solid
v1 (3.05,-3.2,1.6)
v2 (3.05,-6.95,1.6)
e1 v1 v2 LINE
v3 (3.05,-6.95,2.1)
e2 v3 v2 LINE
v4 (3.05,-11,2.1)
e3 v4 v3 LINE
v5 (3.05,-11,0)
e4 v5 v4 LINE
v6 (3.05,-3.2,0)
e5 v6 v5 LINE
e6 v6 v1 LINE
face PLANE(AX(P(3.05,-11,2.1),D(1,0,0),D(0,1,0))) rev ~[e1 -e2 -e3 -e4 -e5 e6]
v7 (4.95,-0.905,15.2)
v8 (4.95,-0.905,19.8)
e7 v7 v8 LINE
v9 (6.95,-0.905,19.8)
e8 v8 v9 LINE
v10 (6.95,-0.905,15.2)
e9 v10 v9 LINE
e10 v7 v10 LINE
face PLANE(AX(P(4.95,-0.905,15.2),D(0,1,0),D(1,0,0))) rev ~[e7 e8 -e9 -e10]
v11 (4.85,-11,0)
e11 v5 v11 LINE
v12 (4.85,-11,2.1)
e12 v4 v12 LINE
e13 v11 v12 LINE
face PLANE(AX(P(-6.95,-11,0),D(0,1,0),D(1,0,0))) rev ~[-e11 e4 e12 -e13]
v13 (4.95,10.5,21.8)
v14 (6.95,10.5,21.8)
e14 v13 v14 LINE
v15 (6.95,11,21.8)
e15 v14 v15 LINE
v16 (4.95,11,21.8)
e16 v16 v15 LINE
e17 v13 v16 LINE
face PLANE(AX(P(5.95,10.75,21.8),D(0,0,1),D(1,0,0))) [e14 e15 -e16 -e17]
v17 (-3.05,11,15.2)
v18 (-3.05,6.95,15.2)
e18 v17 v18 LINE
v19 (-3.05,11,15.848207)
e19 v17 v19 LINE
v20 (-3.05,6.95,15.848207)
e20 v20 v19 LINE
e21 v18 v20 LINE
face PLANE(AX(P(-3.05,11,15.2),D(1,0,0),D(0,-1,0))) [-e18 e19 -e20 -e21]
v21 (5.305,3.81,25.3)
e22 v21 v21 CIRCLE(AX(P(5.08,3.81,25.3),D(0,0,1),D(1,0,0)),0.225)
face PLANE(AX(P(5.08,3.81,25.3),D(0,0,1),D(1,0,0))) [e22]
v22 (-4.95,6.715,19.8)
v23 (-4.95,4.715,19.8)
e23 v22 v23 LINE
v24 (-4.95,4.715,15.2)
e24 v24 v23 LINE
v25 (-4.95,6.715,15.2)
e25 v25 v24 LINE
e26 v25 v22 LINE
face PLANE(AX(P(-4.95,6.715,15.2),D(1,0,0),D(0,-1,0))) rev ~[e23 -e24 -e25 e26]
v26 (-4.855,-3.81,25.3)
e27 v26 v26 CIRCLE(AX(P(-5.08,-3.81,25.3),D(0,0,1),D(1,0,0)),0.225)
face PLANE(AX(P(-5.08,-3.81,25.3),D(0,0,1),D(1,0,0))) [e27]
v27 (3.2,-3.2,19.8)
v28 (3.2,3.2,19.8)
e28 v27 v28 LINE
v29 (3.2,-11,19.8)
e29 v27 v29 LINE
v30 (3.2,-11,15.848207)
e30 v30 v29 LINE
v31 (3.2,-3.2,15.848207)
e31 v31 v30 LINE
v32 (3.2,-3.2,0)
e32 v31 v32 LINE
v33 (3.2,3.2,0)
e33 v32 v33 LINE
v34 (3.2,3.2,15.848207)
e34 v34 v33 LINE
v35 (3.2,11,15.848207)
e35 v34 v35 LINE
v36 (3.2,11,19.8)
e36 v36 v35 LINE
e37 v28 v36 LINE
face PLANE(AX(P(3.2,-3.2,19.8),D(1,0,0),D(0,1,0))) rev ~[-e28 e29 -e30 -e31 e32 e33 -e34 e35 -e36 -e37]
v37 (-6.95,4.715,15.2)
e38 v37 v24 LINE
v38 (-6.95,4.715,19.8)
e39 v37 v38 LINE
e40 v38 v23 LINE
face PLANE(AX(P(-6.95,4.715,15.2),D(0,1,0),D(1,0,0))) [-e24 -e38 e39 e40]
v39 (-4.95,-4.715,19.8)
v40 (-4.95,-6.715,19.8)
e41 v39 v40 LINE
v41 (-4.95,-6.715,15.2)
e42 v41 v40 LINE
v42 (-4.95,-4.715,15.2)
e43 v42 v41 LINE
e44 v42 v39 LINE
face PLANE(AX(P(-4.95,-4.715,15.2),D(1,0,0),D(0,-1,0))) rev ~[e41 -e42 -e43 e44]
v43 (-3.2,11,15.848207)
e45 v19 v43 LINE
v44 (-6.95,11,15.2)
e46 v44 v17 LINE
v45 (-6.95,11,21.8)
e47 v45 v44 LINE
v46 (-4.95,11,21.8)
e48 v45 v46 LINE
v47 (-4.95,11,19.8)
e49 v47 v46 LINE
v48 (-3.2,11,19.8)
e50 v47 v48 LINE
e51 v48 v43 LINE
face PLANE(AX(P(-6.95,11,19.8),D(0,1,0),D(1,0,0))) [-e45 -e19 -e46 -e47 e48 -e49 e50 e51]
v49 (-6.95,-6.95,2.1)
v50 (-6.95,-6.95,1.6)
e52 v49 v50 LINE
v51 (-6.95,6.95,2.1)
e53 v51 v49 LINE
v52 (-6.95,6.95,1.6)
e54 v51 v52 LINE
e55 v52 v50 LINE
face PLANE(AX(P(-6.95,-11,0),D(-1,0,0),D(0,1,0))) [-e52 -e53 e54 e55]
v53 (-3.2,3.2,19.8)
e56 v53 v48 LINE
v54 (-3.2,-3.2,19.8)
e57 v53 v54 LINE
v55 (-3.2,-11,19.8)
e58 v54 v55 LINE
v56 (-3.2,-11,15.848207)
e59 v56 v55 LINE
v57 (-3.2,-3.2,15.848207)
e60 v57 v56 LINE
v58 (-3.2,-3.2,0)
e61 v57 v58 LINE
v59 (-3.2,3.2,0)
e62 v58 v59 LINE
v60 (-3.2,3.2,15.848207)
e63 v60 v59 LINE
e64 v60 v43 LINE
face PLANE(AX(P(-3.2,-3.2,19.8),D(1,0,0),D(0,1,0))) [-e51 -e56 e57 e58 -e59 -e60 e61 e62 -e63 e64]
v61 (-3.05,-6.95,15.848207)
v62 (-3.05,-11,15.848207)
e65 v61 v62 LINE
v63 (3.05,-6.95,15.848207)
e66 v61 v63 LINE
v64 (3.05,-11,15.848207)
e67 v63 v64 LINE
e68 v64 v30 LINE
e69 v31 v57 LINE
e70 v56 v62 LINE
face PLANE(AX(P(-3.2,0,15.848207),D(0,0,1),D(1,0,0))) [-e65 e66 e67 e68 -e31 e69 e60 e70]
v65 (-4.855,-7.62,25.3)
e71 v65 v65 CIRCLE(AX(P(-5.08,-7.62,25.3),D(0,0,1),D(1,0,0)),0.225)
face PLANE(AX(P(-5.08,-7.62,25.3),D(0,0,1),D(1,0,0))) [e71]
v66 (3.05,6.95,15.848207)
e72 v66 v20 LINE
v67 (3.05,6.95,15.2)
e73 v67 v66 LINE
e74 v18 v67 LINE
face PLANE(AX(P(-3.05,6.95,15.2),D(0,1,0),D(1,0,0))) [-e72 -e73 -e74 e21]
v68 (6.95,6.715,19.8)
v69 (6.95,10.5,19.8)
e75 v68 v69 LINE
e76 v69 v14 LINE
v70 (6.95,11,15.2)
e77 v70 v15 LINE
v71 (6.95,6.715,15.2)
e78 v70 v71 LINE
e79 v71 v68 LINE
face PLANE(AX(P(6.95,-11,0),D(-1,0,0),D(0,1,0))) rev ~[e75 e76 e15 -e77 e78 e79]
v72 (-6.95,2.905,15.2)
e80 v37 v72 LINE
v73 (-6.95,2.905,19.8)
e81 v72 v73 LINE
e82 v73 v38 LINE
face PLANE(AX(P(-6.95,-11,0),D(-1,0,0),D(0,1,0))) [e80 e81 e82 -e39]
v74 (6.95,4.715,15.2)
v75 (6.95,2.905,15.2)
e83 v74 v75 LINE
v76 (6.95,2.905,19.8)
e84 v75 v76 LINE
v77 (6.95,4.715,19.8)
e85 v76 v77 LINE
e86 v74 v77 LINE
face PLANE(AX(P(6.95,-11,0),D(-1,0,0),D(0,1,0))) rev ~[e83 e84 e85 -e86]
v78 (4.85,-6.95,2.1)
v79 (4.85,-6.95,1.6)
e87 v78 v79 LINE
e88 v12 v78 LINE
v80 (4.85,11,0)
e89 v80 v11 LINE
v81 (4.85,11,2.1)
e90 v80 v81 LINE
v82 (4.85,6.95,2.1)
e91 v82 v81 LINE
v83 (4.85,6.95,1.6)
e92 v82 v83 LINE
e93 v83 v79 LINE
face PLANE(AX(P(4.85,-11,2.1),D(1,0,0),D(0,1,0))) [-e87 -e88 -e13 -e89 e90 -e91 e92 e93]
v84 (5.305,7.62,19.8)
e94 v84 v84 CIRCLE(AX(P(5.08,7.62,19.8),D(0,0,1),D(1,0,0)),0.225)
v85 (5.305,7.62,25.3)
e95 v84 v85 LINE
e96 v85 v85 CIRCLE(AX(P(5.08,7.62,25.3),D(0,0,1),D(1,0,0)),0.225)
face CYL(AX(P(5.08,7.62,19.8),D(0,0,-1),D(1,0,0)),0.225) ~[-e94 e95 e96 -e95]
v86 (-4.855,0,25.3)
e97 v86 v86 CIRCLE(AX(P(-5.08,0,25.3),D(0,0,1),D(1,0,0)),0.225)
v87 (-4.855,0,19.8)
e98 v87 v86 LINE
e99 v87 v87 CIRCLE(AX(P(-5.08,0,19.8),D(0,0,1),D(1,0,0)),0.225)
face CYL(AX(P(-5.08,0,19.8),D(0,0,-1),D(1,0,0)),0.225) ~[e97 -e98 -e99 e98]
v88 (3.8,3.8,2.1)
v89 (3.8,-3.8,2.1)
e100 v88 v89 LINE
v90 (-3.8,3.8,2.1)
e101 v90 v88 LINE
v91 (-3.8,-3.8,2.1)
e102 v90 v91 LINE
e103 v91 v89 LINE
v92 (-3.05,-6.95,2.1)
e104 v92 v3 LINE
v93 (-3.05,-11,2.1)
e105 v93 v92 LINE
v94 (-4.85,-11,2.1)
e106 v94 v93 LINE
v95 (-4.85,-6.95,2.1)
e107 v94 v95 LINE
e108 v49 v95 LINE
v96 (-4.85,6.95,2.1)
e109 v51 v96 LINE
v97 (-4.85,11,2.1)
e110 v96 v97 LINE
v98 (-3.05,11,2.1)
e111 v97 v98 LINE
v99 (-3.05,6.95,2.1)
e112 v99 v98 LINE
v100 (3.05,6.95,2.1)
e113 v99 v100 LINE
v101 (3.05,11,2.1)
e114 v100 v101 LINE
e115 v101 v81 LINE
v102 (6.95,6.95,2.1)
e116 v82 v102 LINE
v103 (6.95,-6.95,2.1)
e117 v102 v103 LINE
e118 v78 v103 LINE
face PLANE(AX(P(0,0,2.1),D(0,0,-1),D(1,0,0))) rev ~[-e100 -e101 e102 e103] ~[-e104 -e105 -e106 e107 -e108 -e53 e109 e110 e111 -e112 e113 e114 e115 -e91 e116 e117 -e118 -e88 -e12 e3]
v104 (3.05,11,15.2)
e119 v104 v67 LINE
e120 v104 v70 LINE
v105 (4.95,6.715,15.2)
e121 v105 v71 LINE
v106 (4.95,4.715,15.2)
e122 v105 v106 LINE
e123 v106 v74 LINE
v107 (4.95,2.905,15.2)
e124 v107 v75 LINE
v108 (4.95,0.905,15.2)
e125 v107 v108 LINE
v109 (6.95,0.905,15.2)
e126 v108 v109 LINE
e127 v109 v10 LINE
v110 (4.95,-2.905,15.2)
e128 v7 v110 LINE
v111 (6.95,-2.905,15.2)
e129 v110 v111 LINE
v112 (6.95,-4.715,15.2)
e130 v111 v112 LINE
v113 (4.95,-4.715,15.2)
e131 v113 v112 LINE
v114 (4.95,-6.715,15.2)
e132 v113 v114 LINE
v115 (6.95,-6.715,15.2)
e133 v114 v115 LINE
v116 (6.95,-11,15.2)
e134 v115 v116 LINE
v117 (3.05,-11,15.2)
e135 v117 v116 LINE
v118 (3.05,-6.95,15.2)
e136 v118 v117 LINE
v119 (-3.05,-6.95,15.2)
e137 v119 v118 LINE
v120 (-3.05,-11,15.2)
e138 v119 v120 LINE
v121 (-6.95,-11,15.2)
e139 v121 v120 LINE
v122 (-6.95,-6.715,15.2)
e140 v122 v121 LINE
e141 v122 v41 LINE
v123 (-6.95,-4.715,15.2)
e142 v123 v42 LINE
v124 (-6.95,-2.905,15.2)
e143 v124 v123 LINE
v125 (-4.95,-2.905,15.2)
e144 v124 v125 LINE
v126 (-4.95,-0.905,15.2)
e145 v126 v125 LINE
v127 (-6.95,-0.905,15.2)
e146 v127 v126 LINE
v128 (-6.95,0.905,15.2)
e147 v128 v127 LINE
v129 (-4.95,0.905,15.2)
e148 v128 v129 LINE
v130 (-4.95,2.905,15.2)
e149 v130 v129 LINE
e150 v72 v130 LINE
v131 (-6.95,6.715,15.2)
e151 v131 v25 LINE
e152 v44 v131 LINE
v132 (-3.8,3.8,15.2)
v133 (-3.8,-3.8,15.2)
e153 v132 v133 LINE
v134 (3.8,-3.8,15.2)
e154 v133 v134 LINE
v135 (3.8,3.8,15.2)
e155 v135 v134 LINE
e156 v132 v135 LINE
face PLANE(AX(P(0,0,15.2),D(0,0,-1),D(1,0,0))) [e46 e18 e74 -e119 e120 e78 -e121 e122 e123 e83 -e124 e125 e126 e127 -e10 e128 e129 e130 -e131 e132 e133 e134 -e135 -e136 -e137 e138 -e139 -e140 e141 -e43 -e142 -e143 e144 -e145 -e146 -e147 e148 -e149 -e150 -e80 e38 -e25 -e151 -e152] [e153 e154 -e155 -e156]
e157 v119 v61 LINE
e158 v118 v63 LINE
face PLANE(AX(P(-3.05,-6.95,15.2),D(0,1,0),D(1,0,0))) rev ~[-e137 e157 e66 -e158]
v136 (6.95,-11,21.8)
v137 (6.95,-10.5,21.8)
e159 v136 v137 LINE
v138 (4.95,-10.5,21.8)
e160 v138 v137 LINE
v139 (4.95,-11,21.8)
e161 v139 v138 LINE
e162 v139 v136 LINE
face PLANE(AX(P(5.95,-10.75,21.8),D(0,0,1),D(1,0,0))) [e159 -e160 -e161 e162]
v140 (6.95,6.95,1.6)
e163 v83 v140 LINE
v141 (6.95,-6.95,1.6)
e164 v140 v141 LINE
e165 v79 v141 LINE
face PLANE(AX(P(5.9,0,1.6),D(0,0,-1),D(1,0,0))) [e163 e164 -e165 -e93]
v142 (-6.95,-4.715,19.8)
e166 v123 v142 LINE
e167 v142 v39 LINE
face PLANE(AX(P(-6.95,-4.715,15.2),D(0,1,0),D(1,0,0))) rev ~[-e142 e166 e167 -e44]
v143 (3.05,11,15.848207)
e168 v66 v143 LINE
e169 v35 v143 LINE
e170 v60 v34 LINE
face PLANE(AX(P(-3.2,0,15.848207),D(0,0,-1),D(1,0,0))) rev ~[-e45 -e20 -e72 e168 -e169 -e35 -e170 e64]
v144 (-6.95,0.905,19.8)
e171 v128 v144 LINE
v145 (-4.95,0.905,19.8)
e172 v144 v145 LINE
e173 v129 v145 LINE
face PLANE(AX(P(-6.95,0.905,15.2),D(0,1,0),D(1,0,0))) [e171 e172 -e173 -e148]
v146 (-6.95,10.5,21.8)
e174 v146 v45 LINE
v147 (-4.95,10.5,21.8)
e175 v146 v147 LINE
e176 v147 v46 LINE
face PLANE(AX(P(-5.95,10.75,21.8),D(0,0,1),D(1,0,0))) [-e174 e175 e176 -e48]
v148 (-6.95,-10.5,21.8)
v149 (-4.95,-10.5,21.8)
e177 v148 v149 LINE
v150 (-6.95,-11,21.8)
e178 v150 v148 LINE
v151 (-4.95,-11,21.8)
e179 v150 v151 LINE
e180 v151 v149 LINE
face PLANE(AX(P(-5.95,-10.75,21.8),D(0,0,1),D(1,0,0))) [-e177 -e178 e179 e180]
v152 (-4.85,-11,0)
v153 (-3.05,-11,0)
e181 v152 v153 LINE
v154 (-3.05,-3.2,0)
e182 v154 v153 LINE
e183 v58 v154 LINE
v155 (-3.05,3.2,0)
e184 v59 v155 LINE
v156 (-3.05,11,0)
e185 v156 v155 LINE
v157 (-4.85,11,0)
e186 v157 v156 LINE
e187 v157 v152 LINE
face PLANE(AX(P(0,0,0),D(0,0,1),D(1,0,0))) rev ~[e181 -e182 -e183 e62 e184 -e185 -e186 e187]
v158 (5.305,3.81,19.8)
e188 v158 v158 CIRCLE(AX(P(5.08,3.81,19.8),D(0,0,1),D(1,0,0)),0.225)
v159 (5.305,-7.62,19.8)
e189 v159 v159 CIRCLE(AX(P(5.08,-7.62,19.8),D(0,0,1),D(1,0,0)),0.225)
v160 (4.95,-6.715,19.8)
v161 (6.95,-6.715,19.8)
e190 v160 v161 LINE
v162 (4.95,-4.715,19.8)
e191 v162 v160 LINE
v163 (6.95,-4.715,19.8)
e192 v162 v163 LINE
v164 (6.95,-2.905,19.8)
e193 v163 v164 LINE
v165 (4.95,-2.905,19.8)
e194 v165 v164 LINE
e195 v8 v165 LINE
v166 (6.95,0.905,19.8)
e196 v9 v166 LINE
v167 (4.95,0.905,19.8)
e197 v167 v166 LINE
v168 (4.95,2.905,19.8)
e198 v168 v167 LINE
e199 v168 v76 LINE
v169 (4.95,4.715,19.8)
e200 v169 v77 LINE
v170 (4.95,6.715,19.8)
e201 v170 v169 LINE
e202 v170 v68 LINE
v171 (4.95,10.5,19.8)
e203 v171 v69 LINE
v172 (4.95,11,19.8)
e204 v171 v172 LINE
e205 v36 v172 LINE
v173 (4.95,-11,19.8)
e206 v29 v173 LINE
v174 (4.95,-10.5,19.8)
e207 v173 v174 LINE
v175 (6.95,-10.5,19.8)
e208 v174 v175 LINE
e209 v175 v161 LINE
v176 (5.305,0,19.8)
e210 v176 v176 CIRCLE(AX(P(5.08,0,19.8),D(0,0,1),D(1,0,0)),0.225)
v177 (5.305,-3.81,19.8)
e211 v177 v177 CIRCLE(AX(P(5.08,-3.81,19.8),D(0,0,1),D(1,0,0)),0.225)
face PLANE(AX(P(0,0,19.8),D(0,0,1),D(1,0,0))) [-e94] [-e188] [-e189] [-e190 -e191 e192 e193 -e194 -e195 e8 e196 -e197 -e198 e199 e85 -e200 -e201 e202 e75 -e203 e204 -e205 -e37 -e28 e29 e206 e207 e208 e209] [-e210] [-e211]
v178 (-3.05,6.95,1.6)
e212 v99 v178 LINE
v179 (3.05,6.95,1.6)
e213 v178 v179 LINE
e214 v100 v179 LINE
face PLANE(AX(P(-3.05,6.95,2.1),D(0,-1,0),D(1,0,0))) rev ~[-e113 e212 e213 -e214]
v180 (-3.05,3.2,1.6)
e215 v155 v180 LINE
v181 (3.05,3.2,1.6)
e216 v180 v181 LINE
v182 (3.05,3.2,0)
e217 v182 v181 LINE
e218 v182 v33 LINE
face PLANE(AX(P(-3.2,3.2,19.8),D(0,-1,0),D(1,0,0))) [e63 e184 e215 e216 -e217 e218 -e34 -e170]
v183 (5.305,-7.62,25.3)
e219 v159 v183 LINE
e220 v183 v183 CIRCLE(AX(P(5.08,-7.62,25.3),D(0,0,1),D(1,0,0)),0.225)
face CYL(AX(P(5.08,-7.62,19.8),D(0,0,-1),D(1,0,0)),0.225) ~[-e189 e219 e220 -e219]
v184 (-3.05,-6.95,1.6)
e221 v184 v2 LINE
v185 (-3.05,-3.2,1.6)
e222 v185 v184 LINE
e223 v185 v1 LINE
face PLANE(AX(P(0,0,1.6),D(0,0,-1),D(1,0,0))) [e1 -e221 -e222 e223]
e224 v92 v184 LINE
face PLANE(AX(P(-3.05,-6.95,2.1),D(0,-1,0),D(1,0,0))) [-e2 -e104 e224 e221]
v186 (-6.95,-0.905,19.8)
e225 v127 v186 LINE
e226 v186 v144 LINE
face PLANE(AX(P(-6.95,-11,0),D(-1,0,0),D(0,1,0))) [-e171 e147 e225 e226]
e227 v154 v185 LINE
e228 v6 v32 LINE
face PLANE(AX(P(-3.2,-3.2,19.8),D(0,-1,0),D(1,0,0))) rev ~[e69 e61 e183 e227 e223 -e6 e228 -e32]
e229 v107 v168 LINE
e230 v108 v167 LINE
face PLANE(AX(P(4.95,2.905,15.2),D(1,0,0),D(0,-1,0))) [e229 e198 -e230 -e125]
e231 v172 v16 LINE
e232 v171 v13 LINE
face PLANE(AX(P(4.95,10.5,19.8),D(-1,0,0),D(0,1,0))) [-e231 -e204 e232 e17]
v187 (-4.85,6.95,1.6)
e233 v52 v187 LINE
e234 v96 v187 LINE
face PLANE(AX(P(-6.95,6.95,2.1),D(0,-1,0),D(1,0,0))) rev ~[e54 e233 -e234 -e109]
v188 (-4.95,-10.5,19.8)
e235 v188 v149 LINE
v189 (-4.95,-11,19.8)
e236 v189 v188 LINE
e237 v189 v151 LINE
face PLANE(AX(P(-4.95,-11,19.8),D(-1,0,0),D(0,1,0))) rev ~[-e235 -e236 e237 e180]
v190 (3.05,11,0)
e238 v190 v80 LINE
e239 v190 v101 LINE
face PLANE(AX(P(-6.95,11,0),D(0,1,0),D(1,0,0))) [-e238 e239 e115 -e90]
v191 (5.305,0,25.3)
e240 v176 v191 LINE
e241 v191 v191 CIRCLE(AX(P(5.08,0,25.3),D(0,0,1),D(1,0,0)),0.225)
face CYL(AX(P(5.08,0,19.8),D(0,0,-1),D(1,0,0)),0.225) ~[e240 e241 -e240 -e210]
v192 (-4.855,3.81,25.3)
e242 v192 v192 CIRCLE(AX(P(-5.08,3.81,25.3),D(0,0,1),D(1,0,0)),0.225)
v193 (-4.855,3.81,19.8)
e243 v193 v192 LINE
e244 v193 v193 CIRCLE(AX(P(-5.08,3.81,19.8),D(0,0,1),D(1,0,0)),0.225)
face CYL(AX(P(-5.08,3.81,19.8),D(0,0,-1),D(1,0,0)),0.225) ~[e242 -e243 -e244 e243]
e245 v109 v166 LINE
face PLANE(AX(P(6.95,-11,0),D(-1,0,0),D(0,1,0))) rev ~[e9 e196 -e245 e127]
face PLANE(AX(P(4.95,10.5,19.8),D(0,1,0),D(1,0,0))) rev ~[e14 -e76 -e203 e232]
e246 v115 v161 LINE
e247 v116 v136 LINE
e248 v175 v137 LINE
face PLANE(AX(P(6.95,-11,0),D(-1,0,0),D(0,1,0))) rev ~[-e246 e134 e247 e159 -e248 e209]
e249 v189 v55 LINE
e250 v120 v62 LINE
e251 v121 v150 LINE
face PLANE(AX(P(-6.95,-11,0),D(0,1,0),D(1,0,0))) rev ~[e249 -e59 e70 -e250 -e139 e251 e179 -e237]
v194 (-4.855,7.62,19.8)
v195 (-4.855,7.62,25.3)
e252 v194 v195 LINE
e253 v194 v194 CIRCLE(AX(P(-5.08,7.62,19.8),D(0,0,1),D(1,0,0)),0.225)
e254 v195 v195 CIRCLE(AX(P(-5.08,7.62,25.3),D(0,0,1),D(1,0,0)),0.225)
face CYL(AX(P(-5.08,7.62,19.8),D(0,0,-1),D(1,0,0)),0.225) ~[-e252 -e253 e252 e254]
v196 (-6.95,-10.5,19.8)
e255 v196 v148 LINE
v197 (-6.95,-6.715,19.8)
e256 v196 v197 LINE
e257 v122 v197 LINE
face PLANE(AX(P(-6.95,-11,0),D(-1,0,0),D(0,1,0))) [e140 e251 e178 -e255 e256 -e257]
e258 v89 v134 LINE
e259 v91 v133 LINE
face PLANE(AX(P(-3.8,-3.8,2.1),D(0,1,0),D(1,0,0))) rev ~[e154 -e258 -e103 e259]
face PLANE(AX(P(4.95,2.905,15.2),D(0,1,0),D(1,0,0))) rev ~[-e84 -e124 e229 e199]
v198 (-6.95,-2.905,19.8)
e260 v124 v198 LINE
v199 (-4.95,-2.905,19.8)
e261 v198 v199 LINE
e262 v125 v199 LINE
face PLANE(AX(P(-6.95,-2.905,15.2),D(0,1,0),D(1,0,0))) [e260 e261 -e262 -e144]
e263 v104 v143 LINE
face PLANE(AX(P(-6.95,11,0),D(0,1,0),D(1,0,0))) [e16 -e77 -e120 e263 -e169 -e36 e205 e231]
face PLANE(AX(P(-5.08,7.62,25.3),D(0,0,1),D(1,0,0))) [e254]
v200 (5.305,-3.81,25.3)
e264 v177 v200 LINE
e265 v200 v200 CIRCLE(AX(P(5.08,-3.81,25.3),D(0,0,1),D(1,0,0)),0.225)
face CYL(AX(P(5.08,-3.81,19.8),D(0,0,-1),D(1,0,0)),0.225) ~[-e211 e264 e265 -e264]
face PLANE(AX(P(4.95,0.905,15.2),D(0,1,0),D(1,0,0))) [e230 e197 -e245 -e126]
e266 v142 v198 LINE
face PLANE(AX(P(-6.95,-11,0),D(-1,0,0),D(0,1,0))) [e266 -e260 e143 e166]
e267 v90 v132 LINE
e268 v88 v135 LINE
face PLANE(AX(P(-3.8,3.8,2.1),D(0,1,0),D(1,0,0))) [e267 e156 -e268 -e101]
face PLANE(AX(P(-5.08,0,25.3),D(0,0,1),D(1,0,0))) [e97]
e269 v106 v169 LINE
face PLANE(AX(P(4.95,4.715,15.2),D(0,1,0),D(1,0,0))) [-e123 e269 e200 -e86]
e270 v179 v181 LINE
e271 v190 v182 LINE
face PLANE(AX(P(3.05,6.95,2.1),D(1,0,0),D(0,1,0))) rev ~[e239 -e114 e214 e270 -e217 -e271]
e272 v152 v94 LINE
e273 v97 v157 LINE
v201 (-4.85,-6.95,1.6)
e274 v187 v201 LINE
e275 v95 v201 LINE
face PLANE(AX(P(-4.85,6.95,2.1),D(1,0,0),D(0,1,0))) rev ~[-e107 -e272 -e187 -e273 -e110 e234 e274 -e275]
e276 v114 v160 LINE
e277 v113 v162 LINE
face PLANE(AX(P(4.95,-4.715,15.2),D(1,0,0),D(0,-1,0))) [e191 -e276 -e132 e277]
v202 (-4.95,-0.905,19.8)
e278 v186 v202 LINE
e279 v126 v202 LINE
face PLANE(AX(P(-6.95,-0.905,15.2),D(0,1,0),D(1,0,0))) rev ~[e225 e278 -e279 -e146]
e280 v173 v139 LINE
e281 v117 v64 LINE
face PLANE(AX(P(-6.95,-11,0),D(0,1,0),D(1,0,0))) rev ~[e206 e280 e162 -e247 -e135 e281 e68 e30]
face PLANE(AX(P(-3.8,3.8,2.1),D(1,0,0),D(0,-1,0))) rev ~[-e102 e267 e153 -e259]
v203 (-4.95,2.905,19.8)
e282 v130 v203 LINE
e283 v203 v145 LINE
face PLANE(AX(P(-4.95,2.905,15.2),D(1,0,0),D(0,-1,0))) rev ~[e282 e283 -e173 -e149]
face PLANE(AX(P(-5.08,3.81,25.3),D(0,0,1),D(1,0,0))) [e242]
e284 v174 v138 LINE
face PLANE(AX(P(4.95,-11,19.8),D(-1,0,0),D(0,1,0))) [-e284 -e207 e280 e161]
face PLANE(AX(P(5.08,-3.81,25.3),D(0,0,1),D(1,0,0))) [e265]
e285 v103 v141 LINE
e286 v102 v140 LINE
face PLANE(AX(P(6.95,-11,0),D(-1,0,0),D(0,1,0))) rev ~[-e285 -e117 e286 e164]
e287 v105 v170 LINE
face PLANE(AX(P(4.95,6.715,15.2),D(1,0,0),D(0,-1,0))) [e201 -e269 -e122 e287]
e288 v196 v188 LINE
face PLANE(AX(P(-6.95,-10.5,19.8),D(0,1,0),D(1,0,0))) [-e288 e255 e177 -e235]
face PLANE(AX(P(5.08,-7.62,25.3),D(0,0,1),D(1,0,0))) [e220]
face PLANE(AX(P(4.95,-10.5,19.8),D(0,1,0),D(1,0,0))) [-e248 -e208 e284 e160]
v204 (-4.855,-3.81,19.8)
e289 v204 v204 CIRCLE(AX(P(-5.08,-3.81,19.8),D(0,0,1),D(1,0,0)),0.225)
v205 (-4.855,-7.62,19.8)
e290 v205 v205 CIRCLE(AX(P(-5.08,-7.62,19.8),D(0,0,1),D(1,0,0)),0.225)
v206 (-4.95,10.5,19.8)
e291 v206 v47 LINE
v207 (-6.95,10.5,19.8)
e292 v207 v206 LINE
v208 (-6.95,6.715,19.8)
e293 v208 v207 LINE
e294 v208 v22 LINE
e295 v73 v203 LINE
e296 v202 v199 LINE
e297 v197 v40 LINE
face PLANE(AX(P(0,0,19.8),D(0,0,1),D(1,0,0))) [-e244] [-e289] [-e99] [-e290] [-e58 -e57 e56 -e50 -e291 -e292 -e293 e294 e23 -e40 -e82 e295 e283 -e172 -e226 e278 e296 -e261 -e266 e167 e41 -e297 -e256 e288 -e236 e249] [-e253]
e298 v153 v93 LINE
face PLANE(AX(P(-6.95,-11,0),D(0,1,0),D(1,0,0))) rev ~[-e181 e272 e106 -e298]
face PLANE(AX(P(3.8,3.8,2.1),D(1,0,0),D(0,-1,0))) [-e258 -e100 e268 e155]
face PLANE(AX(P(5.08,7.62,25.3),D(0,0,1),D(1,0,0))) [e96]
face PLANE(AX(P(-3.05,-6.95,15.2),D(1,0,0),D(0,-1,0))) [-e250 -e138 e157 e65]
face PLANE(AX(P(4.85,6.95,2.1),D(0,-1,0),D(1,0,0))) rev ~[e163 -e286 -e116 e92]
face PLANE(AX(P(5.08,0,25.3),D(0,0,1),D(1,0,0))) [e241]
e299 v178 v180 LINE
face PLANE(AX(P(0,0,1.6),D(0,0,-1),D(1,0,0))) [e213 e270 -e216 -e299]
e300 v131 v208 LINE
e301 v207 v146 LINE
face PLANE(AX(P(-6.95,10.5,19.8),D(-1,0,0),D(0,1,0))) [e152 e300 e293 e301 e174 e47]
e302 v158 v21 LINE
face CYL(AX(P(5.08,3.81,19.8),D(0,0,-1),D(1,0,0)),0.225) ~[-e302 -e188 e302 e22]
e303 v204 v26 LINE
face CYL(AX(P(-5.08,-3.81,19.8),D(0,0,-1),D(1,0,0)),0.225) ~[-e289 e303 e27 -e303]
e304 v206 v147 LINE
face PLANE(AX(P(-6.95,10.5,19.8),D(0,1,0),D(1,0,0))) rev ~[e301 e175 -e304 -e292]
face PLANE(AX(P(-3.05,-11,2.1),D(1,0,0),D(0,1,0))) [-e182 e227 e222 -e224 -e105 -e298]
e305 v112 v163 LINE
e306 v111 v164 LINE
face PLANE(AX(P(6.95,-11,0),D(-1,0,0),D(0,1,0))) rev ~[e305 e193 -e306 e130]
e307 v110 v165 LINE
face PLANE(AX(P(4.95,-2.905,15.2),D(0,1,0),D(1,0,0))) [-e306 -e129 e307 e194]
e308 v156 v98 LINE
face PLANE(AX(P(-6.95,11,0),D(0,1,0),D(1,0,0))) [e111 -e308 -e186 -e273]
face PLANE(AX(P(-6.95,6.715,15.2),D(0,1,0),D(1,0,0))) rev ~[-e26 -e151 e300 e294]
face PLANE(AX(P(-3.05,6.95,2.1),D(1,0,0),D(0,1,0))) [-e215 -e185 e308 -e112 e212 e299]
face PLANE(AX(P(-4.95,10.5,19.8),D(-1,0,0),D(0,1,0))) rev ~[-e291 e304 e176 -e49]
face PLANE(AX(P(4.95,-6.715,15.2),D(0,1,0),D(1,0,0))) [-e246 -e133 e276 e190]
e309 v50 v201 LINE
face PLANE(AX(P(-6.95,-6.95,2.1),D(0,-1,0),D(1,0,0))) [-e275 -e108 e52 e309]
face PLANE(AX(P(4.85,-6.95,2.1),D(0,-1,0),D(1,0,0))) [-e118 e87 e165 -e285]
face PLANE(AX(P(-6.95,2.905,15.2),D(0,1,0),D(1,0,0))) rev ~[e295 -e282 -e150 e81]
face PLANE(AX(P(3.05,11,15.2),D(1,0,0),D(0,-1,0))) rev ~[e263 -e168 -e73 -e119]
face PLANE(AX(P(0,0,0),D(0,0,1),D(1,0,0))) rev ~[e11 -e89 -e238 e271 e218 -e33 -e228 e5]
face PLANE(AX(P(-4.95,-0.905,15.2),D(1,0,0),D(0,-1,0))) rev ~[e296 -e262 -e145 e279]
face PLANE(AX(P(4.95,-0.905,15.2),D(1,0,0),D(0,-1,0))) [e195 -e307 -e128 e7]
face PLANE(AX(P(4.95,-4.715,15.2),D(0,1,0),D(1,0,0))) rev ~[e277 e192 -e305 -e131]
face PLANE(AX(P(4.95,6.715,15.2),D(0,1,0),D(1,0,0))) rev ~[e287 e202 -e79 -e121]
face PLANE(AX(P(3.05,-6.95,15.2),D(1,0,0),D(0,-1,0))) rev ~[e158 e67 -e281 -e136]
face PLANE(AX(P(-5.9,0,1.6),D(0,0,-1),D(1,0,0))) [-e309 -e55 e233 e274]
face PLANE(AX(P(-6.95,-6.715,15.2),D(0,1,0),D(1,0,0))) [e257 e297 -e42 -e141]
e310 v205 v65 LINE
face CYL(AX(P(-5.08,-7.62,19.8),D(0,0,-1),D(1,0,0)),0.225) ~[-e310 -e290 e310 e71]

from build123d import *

# Parameters (mm, degrees)
F0_W           = 13.9
F0_H           = 22
F1_DEPTH       = 19.8
F4_W           = 13.9
F4_H           = 22
F4_W_2         = 7.6
F4_H_2         = 7.6
F5_DEPTH       = 13.1
F6_W           = 6.4
F6_H           = 6.4
F7_DEPTH       = 19.801
F8_W           = 2.1
F8_H           = 22
F8_W_2         = 6.1
F9_DEPTH       = 1.6
F10_W          = 2.1
F10_H          = 4.05
F10_W_2        = 6.1
F11_DEPTH      = 0.5
F12_W          = 6.1
F12_H          = 4.05
F12_W_2        = 2
F12_H_2        = 2
F13_DEPTH      = 4.6
F14_W          = 6.4
F14_H          = 3.9517926995
F15_DEPTH      = 11.001
F15_DEPTH_BACK = 11.001
F16_R          = 0.225
F17_DEPTH      = 5.5
F18_W          = 2
F18_H          = 0.5
F19_DEPTH      = 2


with BuildPart() as f1:
    # F0 (on Top) → F1 (new body)
    with BuildSketch(Plane.XY):
        Rectangle(F0_W, F0_H)
    extrude(amount=F1_DEPTH)

    # F4 (on offset) → F5 (cut, through all)
    with BuildSketch(Plane(origin=(0, 0, 2.1), x_dir=(1, 0, 0), z_dir=(0, 0, -1))):
        Rectangle(F4_W, F4_H)
        Rectangle(F4_W_2, F4_H_2, mode=Mode.SUBTRACT)
    extrude(amount=-F5_DEPTH, mode=Mode.SUBTRACT)

    # F6 (on face) → F7 (cut, through all)
    with BuildSketch(Plane.XY.offset(19.8)):
        Rectangle(F6_W, F6_H)
    extrude(amount=-F7_DEPTH, mode=Mode.SUBTRACT)

    # F8 (on face) → F9 (cut)
    with BuildSketch(Plane(origin=(0, 0, 0), x_dir=(1, 0, 0), z_dir=(0, 0, -1))):
        with Locations((-5.9, 0)):
            Rectangle(F8_W, F8_H)
        Rectangle(F8_W_2, F8_H)
        with Locations((5.9, 0)):
            Rectangle(F8_W, F8_H)
    extrude(amount=-F9_DEPTH, mode=Mode.SUBTRACT)

    # F10 (on face) → F11 (cut, through all)
    with BuildSketch(Plane.XY.offset(2.1)):
        with Locations((5.9, 8.975)):
            Rectangle(F10_W, F10_H)
        with Locations((5.9, -8.975)):
            Rectangle(F10_W, F10_H)
        with Locations((0, -8.975)):
            Rectangle(F10_W_2, F10_H)
        with Locations((-5.9, -8.975)):
            Rectangle(F10_W, F10_H)
        with Locations((-5.9, 8.975)):
            Rectangle(F10_W, F10_H)
        with Locations((0, 8.975)):
            Rectangle(F10_W_2, F10_H)
    extrude(amount=-F11_DEPTH, mode=Mode.SUBTRACT)

    # F12 (on face) → F13 (cut, through all)
    with BuildSketch(Plane(origin=(0, 0, 15.2), x_dir=(1, 0, 0), z_dir=(0, 0, -1))):
        with Locations((0, -8.975)):
            Rectangle(F12_W, F12_H)
        with Locations((5.95, -5.715)):
            Rectangle(F12_W_2, F12_H_2)
        with Locations((5.95, -1.905)):
            Rectangle(F12_W_2, F12_H_2)
        with Locations((5.95, 1.905)):
            Rectangle(F12_W_2, F12_H_2)
        with Locations((5.95, 5.715)):
            Rectangle(F12_W_2, F12_H_2)
        with Locations((-5.95, 5.715)):
            Rectangle(F12_W_2, F12_H_2)
        with Locations((0, 8.975)):
            Rectangle(F12_W, F12_H)
        with Locations((-5.95, 1.905)):
            Rectangle(F12_W_2, F12_H_2)
        with Locations((-5.95, -1.905)):
            Rectangle(F12_W_2, F12_H_2)
        with Locations((-5.95, -5.715)):
            Rectangle(F12_W_2, F12_H_2)
    extrude(amount=-F13_DEPTH, mode=Mode.SUBTRACT)

    # F14 (on Front) → F15 (cut, two sides)
    with BuildSketch(Plane.XZ) as f15_sk:
        with Locations((0, 17.8241036503)):
            Rectangle(F14_W, F14_H)
    extrude(amount=-F15_DEPTH, mode=Mode.SUBTRACT)
    extrude(f15_sk.sketch, amount=F15_DEPTH_BACK, mode=Mode.SUBTRACT)

    # F16 (on face) → F17 (join)
    with BuildSketch(Plane.XY.offset(19.8)):
        with Locations((5.08, 7.62)):
            Circle(F16_R)
        with Locations((5.08, 3.81)):
            Circle(F16_R)
        with Locations((5.08, 0)):
            Circle(F16_R)
        with Locations((5.08, -3.81)):
            Circle(F16_R)
        with Locations((5.08, -7.62)):
            Circle(F16_R)
        with Locations((-5.08, -7.62)):
            Circle(F16_R)
        with Locations((-5.08, -3.81)):
            Circle(F16_R)
        with Locations((-5.08, 0)):
            Circle(F16_R)
        with Locations((-5.08, 3.81)):
            Circle(F16_R)
        with Locations((-5.08, 7.62)):
            Circle(F16_R)
    extrude(amount=F17_DEPTH)

    # F18 (on face) → F19 (join)
    with BuildSketch(Plane.XY.offset(19.8)):
        with Locations((-5.95, 10.75)):
            Rectangle(F18_W, F18_H)
        with Locations((-5.95, -10.75)):
            Rectangle(F18_W, F18_H)
        with Locations((5.95, -10.75)):
            Rectangle(F18_W, F18_H)
        with Locations((5.95, 10.75)):
            Rectangle(F18_W, F18_H)
    extrude(amount=F19_DEPTH)


solid = f1.part
